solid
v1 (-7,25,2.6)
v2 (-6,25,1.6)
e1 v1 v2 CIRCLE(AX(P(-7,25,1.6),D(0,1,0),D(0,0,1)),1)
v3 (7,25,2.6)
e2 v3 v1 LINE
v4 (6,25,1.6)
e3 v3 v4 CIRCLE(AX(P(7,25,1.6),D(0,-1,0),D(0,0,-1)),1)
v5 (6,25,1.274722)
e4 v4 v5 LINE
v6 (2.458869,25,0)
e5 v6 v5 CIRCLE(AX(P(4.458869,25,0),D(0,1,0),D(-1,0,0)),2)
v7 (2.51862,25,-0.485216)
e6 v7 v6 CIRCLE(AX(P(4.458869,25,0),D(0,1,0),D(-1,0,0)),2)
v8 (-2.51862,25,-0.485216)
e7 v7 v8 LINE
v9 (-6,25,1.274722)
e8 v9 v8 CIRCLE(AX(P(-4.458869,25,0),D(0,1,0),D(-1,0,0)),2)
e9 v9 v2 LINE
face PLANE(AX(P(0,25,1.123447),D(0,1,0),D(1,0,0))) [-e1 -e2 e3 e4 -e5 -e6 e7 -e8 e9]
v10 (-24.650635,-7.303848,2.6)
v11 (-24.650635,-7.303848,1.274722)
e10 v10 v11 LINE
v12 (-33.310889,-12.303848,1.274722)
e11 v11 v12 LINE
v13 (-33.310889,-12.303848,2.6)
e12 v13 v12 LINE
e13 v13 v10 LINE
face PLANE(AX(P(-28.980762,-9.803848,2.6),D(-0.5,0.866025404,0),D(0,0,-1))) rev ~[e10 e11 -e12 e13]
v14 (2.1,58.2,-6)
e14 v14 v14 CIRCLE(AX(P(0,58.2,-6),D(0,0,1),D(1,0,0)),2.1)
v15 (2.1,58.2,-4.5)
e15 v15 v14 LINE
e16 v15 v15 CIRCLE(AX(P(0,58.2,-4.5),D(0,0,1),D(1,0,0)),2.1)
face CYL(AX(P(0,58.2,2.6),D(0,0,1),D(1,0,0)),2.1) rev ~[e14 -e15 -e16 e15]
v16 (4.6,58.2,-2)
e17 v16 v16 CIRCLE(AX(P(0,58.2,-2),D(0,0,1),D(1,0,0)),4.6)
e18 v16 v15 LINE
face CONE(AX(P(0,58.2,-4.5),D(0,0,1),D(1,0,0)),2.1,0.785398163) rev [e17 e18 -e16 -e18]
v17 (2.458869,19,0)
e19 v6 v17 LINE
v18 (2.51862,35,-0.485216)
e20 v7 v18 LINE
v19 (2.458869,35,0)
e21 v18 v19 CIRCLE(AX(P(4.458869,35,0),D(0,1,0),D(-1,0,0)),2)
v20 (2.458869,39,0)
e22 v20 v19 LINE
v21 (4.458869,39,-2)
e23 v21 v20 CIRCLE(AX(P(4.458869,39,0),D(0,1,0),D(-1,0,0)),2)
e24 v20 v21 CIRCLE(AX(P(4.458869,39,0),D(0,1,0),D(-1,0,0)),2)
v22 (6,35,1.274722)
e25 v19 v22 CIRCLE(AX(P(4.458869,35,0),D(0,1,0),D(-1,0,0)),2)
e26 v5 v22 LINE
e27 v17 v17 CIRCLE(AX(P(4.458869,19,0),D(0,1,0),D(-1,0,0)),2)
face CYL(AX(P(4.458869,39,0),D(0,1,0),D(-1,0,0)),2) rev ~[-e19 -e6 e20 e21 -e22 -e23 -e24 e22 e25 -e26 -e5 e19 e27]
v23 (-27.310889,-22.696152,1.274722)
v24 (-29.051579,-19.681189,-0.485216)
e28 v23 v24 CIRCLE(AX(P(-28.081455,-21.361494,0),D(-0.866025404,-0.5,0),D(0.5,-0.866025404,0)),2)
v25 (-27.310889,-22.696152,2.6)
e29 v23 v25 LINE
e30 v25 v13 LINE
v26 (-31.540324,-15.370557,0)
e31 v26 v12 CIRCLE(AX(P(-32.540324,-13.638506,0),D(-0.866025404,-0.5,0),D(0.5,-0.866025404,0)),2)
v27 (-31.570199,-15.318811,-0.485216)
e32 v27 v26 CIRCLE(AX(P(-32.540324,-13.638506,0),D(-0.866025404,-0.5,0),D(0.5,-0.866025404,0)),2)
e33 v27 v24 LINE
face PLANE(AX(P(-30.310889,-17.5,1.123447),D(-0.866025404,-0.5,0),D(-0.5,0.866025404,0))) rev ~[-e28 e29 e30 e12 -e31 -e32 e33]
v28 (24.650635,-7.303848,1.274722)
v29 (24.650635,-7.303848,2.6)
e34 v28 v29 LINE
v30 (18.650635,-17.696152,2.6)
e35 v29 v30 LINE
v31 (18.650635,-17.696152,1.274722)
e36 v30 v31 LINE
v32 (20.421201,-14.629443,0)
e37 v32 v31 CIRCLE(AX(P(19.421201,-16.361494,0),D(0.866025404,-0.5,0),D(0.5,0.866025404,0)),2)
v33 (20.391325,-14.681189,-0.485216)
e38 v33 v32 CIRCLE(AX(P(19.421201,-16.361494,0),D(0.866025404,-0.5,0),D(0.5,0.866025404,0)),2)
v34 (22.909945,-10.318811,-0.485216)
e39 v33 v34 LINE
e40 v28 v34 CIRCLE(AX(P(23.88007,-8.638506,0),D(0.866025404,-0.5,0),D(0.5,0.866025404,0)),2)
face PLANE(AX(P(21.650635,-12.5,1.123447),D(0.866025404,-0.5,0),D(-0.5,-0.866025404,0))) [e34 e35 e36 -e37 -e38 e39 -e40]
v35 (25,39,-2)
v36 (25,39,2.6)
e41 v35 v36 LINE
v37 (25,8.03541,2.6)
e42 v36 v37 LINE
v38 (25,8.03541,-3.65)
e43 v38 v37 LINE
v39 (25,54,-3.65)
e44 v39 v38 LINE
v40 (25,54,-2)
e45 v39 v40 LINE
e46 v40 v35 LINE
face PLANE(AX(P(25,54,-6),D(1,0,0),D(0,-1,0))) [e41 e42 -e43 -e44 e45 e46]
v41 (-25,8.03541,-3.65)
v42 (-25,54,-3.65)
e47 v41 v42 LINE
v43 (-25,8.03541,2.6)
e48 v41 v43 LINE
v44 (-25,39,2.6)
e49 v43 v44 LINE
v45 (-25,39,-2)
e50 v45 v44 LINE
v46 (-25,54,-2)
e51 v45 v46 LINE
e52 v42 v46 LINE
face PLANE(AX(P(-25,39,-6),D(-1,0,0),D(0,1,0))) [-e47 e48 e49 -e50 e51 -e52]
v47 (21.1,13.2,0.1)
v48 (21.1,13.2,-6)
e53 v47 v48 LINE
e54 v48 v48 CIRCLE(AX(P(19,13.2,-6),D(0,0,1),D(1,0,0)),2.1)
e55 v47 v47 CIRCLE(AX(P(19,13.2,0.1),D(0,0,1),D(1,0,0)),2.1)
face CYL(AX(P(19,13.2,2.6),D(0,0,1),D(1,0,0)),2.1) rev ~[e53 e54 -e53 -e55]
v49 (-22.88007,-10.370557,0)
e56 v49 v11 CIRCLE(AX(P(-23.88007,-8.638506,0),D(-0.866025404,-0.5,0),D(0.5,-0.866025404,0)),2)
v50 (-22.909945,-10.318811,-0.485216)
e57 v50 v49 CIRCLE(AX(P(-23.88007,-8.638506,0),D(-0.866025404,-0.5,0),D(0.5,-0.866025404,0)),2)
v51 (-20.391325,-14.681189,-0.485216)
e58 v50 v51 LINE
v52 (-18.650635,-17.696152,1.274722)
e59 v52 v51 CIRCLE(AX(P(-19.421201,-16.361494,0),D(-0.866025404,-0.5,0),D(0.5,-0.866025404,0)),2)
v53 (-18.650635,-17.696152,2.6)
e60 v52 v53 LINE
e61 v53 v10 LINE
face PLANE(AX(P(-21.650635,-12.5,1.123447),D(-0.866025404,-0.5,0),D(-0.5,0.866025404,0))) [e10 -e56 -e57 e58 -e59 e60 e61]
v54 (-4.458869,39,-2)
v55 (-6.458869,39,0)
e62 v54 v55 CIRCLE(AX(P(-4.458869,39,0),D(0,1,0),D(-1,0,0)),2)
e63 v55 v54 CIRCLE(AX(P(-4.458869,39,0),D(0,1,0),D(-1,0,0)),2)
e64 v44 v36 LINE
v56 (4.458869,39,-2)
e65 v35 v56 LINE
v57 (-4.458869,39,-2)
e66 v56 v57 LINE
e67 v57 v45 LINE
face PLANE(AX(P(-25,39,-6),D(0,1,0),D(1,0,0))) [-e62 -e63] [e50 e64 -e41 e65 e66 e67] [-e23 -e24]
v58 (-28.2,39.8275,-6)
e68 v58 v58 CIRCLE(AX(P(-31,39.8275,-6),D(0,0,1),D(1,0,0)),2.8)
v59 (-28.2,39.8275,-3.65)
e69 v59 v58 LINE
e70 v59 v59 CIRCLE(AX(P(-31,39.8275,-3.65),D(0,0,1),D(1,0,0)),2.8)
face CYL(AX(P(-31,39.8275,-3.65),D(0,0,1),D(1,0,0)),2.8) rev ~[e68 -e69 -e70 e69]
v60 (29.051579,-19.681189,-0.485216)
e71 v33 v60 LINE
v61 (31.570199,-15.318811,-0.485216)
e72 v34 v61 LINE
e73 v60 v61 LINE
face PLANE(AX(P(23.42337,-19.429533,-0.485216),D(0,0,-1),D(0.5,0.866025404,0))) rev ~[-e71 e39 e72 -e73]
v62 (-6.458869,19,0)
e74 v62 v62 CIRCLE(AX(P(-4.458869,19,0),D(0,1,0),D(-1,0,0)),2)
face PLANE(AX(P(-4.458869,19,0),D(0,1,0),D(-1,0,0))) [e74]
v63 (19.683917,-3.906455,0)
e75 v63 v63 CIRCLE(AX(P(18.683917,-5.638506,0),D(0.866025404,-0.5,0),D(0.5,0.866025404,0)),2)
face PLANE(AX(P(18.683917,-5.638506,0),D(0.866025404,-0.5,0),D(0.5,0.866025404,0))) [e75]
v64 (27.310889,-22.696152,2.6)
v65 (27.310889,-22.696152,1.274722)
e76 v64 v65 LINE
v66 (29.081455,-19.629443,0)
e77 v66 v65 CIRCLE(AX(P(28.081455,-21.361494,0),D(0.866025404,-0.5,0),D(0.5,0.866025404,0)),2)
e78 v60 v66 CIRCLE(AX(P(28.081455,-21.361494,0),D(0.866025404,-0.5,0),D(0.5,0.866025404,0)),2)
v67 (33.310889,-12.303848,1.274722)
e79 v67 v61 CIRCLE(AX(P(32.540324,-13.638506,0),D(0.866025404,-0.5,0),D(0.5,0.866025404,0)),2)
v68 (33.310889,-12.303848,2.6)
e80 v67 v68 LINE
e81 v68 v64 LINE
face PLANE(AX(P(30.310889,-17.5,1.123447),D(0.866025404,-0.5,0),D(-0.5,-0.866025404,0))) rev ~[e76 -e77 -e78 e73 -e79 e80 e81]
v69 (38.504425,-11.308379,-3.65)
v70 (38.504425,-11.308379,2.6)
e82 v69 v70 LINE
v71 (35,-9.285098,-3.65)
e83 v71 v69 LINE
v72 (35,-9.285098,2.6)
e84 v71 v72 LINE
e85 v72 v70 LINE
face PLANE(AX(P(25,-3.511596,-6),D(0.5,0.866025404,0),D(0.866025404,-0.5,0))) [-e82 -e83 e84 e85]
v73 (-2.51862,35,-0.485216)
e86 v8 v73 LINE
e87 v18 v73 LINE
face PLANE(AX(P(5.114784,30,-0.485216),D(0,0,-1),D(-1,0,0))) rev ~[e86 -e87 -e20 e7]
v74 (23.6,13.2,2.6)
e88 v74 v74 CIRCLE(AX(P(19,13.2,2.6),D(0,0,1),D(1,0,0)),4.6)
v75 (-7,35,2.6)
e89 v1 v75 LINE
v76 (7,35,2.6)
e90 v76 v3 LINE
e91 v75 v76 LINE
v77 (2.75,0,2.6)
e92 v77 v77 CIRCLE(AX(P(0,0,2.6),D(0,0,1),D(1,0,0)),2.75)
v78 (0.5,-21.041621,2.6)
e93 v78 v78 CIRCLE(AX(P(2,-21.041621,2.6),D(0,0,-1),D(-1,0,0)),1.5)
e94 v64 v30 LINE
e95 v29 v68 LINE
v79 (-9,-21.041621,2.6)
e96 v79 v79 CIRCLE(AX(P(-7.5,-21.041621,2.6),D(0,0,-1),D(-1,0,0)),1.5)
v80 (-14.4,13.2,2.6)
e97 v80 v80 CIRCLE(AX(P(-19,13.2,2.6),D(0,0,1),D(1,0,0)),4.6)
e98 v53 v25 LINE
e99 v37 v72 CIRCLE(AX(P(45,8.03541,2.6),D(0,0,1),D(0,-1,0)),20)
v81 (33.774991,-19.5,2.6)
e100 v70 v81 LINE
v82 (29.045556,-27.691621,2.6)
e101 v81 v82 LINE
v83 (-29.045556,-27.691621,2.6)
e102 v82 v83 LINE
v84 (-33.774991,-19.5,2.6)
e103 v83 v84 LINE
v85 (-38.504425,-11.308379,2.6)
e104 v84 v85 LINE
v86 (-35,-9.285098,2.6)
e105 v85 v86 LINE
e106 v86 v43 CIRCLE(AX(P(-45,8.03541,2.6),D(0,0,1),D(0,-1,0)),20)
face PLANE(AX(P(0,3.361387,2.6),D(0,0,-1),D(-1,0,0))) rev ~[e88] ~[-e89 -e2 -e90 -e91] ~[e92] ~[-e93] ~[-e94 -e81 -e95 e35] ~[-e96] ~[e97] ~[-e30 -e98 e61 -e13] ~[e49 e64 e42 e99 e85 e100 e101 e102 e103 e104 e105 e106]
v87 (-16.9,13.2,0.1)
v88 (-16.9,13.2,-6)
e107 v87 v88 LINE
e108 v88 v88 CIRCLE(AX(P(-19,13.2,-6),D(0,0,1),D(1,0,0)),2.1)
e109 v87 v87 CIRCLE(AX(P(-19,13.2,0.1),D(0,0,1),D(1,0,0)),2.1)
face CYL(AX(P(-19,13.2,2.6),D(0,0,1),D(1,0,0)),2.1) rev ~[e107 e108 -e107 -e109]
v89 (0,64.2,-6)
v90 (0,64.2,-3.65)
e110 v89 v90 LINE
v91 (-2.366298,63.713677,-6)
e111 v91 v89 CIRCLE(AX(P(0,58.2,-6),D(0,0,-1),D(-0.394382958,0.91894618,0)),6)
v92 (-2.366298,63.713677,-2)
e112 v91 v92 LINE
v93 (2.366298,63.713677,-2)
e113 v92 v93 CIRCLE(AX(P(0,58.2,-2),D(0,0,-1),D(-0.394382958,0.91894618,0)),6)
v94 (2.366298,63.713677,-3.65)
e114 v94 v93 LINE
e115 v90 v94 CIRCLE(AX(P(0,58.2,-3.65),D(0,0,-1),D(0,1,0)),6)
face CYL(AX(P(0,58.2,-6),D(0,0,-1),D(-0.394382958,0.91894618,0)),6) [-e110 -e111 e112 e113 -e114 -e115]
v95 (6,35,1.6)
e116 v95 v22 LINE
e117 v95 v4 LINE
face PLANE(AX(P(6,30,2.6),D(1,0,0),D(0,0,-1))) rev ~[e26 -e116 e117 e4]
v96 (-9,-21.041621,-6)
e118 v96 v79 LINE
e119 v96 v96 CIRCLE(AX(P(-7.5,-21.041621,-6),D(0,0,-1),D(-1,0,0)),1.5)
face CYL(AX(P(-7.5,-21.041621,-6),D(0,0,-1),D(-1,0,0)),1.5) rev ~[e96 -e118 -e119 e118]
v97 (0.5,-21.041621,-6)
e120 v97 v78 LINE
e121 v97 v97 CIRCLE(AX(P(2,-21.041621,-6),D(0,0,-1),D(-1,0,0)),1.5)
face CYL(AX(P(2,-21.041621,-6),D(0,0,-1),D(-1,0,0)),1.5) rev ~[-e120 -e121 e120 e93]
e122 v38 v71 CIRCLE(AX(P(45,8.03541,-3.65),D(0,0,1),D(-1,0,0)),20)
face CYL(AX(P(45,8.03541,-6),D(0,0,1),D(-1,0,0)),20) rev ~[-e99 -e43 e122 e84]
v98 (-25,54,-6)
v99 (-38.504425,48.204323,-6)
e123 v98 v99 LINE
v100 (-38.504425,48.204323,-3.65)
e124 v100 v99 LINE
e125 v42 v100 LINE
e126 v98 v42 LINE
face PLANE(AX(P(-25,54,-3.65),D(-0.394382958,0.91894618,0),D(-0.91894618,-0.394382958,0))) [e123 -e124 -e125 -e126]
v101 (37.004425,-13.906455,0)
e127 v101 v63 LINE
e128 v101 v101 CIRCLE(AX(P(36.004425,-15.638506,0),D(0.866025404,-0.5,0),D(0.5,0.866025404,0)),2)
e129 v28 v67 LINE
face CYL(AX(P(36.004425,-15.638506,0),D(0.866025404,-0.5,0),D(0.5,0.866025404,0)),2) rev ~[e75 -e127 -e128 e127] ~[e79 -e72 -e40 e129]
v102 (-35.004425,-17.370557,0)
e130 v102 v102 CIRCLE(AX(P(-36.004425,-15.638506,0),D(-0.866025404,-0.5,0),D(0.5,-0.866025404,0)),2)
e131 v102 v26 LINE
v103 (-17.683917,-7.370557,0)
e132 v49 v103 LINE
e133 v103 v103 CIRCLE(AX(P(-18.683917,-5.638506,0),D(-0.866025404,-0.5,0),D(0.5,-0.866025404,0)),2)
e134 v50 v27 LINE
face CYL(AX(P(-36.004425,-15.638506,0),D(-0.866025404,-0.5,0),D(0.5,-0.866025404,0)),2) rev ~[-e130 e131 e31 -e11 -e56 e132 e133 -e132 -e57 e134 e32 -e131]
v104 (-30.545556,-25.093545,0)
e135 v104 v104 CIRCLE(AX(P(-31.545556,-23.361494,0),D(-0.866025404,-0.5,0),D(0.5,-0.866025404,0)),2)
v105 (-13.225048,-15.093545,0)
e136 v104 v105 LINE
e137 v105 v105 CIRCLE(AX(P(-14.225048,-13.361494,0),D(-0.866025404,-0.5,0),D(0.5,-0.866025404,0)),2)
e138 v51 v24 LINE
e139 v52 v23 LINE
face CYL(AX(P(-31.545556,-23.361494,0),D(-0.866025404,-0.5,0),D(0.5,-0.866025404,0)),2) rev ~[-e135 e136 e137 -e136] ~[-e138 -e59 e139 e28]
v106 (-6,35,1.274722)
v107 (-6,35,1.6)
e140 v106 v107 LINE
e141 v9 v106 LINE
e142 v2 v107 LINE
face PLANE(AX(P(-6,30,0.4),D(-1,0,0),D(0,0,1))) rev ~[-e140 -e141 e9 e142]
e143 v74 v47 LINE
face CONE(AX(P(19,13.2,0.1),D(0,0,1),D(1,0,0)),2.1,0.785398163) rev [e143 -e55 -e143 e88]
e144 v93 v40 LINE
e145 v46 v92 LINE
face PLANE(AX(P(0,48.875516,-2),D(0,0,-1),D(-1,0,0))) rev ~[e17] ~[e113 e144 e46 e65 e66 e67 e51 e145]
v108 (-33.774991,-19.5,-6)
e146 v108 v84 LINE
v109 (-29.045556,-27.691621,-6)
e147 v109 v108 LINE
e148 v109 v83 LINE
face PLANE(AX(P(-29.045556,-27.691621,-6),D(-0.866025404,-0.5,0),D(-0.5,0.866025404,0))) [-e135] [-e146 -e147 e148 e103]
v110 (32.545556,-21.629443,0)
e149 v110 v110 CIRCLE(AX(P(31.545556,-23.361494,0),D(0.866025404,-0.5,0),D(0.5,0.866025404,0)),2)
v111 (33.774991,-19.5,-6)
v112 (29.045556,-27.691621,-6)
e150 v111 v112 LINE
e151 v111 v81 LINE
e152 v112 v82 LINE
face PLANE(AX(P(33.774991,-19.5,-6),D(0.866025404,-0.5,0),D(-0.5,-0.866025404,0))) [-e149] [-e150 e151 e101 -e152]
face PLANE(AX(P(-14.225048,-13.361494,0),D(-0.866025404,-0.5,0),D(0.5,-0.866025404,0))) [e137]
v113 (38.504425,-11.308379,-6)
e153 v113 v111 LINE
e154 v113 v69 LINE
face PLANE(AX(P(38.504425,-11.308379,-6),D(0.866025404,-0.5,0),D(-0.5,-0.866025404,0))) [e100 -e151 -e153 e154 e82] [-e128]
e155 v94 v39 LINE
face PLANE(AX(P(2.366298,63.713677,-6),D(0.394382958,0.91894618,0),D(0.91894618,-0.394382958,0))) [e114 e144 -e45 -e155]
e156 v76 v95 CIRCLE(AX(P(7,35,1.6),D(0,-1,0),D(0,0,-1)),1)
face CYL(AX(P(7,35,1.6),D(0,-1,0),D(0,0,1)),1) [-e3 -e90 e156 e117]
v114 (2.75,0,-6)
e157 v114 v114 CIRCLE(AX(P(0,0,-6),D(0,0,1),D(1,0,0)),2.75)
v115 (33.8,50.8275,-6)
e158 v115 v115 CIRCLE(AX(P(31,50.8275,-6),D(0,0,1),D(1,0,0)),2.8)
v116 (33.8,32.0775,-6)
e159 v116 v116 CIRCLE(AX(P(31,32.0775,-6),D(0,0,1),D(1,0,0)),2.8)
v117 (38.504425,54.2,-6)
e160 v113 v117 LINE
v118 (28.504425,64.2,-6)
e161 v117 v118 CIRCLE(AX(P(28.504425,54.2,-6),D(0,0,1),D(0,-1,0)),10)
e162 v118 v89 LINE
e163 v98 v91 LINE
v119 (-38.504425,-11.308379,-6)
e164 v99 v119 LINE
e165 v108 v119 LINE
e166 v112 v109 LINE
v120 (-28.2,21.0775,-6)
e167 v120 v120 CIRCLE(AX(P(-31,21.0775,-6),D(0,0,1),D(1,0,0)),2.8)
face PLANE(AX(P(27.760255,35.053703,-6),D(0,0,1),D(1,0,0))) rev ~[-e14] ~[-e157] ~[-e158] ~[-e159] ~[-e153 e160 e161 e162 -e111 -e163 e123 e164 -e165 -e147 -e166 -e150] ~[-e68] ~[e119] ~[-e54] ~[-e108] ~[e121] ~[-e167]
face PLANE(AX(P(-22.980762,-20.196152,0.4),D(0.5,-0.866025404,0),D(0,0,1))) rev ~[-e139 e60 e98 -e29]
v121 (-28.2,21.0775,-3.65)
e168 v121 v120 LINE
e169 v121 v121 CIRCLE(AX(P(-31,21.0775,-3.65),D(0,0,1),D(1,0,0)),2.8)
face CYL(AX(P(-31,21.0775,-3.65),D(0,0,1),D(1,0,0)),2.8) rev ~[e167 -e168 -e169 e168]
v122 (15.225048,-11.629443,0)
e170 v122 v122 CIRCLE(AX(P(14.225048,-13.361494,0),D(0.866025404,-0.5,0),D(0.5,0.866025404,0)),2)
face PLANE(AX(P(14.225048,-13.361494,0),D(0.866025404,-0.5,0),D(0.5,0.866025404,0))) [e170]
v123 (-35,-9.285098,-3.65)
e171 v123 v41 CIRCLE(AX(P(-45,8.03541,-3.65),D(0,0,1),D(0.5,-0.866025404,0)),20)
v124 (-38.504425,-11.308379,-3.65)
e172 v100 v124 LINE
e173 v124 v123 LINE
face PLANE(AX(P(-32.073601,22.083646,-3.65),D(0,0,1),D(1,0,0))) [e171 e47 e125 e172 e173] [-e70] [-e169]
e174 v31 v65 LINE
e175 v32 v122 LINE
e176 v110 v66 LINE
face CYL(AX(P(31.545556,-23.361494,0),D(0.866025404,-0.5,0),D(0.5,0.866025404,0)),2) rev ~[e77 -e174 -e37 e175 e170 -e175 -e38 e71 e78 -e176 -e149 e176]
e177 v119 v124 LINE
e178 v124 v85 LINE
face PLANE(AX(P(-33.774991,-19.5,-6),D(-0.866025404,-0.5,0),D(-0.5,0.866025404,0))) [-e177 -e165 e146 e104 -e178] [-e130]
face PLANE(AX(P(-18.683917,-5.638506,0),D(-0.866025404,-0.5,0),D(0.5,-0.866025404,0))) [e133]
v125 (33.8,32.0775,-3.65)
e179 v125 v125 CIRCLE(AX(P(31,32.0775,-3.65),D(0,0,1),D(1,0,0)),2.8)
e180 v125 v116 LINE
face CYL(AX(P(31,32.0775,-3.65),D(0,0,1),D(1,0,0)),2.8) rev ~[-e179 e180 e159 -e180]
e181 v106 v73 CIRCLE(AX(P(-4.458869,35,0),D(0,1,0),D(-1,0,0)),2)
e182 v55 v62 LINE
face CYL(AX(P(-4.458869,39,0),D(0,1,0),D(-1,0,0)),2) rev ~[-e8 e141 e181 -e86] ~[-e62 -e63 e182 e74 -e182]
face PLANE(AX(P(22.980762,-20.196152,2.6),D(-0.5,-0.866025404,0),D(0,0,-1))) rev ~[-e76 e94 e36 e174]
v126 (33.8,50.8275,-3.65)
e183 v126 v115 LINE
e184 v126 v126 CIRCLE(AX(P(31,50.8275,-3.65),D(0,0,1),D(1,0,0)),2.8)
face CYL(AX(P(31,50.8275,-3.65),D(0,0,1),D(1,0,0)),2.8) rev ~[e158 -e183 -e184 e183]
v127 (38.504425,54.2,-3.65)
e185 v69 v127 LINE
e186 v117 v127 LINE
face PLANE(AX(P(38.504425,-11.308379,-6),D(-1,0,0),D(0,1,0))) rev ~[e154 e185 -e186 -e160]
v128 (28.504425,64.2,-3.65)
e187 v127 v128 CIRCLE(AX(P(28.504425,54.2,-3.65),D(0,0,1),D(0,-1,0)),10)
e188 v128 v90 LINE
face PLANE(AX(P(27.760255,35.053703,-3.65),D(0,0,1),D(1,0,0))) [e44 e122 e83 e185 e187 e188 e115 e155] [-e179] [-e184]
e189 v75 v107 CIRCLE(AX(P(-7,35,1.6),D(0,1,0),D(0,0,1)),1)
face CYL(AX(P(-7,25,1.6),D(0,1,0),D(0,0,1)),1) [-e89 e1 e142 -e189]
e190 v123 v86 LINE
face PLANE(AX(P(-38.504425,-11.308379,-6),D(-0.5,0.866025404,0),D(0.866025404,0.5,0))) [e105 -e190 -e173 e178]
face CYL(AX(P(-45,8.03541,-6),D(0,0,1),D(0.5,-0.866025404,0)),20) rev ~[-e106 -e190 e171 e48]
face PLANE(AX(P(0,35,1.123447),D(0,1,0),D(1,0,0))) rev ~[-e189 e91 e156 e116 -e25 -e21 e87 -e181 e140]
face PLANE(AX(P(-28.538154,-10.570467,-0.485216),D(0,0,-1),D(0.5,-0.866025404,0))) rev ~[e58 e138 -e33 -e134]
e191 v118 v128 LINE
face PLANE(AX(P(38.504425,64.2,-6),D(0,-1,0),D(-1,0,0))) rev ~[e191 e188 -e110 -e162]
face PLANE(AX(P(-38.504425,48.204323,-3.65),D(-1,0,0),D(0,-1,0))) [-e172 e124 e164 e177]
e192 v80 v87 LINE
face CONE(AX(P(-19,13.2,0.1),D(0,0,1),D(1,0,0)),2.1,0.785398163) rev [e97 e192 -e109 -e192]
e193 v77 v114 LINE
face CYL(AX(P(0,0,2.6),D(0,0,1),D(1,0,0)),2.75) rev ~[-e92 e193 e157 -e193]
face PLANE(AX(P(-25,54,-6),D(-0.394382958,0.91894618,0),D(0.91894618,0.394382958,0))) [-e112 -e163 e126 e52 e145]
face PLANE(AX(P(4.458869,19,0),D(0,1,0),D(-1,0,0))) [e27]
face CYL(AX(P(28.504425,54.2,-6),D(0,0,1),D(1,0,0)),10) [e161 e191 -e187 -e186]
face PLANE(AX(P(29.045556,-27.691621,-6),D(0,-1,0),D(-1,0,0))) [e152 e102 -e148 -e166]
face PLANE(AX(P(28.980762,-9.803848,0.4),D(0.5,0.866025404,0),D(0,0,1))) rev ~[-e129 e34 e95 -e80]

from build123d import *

# Parameters (mm, degrees)
BOSS_EXTRUDE1_DEPTH      = 2.6
BOSS_EXTRUDE1_DEPTH_BACK = 6
FILLET1_R                = 20
CUT_EXTRUDE1_DEPTH       = 5
SKETCH5_R                = 2
CUT_EXTRUDE2_DEPTH       = 20
FILLET3_R                = 1
CIRPATTERN1_COUNT        = 3
SKETCH6_R                = 2.75
CUT_EXTRUDE3_DEPTH       = 56.475677209
BOSS_EXTRUDE2_DEPTH      = 4
SKETCH8_R                = 2.1
CUT_EXTRUDE4_DEPTH       = 76.353770721
CHAMFER1_SIZE            = 2.5
SKETCH9_R                = 1.5
CUT_EXTRUDE5_DEPTH       = 76.353770721
BOSS_EXTRUDE3_START      = -2.35
BOSS_EXTRUDE3_DEPTH      = 2.35
BOSS_EXTRUDE4_DEPTH      = 2.35
SKETCH12_R               = 2.8
CUT_EXTRUDE6_DEPTH       = 2.35
FILLET4_R                = 10


with BuildPart() as part:
    # Sketch3 → Boss-Extrude1 (new, two sides: drawn at the far end of the back side and taken through both)
    with BuildSketch(Plane.XY.offset(-BOSS_EXTRUDE1_DEPTH_BACK)):
        Polygon((-25, 39), (25, 39), (25, -3.511595657), (38.504425224, -11.308379196), (33.774990748, -19.5), (29.045556271, -27.691620804), (-29.045556271, -27.691620804), (-33.774990748, -19.5), (-38.504425224, -11.308379196), (-25, -3.511595657), align=None)
    extrude(amount=BOSS_EXTRUDE1_DEPTH + BOSS_EXTRUDE1_DEPTH_BACK)

    # Fillet1
    fillet1_edges = [part.edges().sort_by_distance(p)[0] for p in [
        (-25, -3.511595657, -1.7),
        (25, -3.511595657, -1.7),
    ]]
    fillet(fillet1_edges, radius=FILLET1_R)

    # Sketch4 → Cut-Extrude1 (cut, symmetric)
    with BuildSketch(Plane(origin=(0, 30, 0), x_dir=(1, 0, 0), z_dir=(0, 1, 0))):
        Polygon((5.114783638, 0.485216362), (-5.114783638, 0.485216362), (-6, -0.4), (-6, -2.6), (6, -2.6), (6, -0.4), align=None)
    cut_extrude1 = extrude(amount=CUT_EXTRUDE1_DEPTH, both=True, mode=Mode.SUBTRACT)

    # Sketch5 → Cut-Extrude2 (cut)
    with BuildSketch(Plane(origin=(0, 39, 0), x_dir=(1, 0, 0), z_dir=(0, 1, 0))):
        with Locations((-4.458868953, 0)):
            Circle(SKETCH5_R)
        with Locations((4.458868953, 0)):
            Circle(SKETCH5_R)
    cut_extrude2 = extrude(amount=-CUT_EXTRUDE2_DEPTH, mode=Mode.SUBTRACT)

    # Fillet3
    fillet3_edges = [part.edges().sort_by_distance(p)[0] for p in [
        (-6, 30, 2.6),
        (6, 30, 2.6),
    ]]
    fillet(fillet3_edges, radius=FILLET3_R)

    # CirPattern1: Cut-Extrude1, Cut-Extrude2 ×3 about axis
    cirpattern1_axis = Axis((0, 0, -80.9), (0, 0, 1))
    add([cut_extrude1.rotate(cirpattern1_axis, i * 360 / CIRPATTERN1_COUNT) for i in range(1, CIRPATTERN1_COUNT)], mode=Mode.SUBTRACT)
    add([cut_extrude2.rotate(cirpattern1_axis, i * 360 / CIRPATTERN1_COUNT) for i in range(1, CIRPATTERN1_COUNT)], mode=Mode.SUBTRACT)

    # Sketch6 → Cut-Extrude3 (cut, through all)
    with BuildSketch(Plane.XY.offset(2.6)):
        Circle(SKETCH6_R)
    extrude(amount=-CUT_EXTRUDE3_DEPTH, mode=Mode.SUBTRACT)

    # Sketch7 → Boss-Extrude2 (add)
    with BuildSketch(Plane(origin=(0, 0, -6), x_dir=(-1, 0, 0), z_dir=(0, 0, -1))):
        with BuildLine():
            Line((-25, 39), (25, 39))
            Line((25, 39), (25, 54))
            Line((25, 54), (2.36629775, 63.713677082))
            ThreePointArc((2.36629775, 63.713677082), (0, 64.2), (-2.36629775, 63.713677082))
            Line((-2.36629775, 63.713677082), (-25, 54))
            Line((-25, 54), (-25, 39))
        make_face()
    extrude(amount=-BOSS_EXTRUDE2_DEPTH)

    # Sketch8 → Cut-Extrude4 (cut, through all)
    with BuildSketch(Plane.XY.offset(2.6)):
        with Locations((-19, 13.2)):
            Circle(SKETCH8_R)
        with Locations((19, 13.2)):
            Circle(SKETCH8_R)
        with Locations((0, 58.2)):
            Circle(SKETCH8_R)
    extrude(amount=-CUT_EXTRUDE4_DEPTH, mode=Mode.SUBTRACT)

    # Chamfer1
    chamfer1_edges = [part.edges().sort_by_distance(p)[0] for p in [
        (-21.1, 13.2, 2.6),
        (16.9, 13.2, 2.6),
        (-2.1, 58.2, -2),
    ]]
    chamfer(chamfer1_edges, length=CHAMFER1_SIZE)

    # Sketch9 → Cut-Extrude5 (cut, through all)
    with BuildSketch(Plane(origin=(0, 0, -6), x_dir=(-1, 0, 0), z_dir=(0, 0, -1))):
        with Locations((7.5, -21.041620804)):
            Circle(SKETCH9_R)
        with Locations((-2, -21.041620804)):
            Circle(SKETCH9_R)
    extrude(amount=-CUT_EXTRUDE5_DEPTH, mode=Mode.SUBTRACT)

    # Sketch10 → Boss-Extrude3 (add)
    with BuildSketch(Plane(origin=(0, 0, -6), x_dir=(-1, 0, 0), z_dir=(0, 0, -1)).offset(BOSS_EXTRUDE3_START)):
        with BuildLine():
            Line((25, 54), (38.504425224, 48.204323078))
            Line((38.504425224, 48.204323078), (38.504425224, -11.308379196))
            Line((38.504425224, -11.308379196), (35, -9.285098349))
            ThreePointArc((35, -9.285098349), (27.679491924, -1.964590274), (25, 8.035409726))
            Line((25, 8.035409726), (25, 54))
        make_face()
    extrude(amount=BOSS_EXTRUDE3_DEPTH)

    # Sketch11 → Boss-Extrude4 (add)
    with BuildSketch(Plane(origin=(0, 0, -6), x_dir=(-1, 0, 0), z_dir=(0, 0, -1))):
        with BuildLine():
            Line((-38.504425224, -11.308379196), (-38.504425224, 64.2))
            Line((-38.504425224, 64.2), (0, 64.2))
            ThreePointArc((0, 64.2), (-1.20787779, 64.077161836), (-2.36629775, 63.713677082))
            Line((-2.36629775, 63.713677082), (-25, 54))
            Line((-25, 54), (-25, 8.035409726))
            ThreePointArc((-25, 8.035409726), (-27.679491924, -1.964590274), (-35, -9.285098349))
            Line((-35, -9.285098349), (-38.504425224, -11.308379196))
        make_face()
    extrude(amount=-BOSS_EXTRUDE4_DEPTH)

    # Sketch12 → Cut-Extrude6 (cut)
    with BuildSketch(Plane.XY.offset(-3.65)):
        with Locations((-31, 39.8275)):
            Circle(SKETCH12_R)
        with Locations((31, 50.8275)):
            Circle(SKETCH12_R)
        with Locations((-31, 21.0775)):
            Circle(SKETCH12_R)
        with Locations((31, 32.0775)):
            Circle(SKETCH12_R)
    extrude(amount=-CUT_EXTRUDE6_DEPTH, mode=Mode.SUBTRACT)

    # Fillet4
    fillet4_edges = [part.edges().sort_by_distance(p)[0] for p in [
        (38.504425224, 64.2, -4.825),
    ]]
    fillet(fillet4_edges, radius=FILLET4_R)


solid = part.part
